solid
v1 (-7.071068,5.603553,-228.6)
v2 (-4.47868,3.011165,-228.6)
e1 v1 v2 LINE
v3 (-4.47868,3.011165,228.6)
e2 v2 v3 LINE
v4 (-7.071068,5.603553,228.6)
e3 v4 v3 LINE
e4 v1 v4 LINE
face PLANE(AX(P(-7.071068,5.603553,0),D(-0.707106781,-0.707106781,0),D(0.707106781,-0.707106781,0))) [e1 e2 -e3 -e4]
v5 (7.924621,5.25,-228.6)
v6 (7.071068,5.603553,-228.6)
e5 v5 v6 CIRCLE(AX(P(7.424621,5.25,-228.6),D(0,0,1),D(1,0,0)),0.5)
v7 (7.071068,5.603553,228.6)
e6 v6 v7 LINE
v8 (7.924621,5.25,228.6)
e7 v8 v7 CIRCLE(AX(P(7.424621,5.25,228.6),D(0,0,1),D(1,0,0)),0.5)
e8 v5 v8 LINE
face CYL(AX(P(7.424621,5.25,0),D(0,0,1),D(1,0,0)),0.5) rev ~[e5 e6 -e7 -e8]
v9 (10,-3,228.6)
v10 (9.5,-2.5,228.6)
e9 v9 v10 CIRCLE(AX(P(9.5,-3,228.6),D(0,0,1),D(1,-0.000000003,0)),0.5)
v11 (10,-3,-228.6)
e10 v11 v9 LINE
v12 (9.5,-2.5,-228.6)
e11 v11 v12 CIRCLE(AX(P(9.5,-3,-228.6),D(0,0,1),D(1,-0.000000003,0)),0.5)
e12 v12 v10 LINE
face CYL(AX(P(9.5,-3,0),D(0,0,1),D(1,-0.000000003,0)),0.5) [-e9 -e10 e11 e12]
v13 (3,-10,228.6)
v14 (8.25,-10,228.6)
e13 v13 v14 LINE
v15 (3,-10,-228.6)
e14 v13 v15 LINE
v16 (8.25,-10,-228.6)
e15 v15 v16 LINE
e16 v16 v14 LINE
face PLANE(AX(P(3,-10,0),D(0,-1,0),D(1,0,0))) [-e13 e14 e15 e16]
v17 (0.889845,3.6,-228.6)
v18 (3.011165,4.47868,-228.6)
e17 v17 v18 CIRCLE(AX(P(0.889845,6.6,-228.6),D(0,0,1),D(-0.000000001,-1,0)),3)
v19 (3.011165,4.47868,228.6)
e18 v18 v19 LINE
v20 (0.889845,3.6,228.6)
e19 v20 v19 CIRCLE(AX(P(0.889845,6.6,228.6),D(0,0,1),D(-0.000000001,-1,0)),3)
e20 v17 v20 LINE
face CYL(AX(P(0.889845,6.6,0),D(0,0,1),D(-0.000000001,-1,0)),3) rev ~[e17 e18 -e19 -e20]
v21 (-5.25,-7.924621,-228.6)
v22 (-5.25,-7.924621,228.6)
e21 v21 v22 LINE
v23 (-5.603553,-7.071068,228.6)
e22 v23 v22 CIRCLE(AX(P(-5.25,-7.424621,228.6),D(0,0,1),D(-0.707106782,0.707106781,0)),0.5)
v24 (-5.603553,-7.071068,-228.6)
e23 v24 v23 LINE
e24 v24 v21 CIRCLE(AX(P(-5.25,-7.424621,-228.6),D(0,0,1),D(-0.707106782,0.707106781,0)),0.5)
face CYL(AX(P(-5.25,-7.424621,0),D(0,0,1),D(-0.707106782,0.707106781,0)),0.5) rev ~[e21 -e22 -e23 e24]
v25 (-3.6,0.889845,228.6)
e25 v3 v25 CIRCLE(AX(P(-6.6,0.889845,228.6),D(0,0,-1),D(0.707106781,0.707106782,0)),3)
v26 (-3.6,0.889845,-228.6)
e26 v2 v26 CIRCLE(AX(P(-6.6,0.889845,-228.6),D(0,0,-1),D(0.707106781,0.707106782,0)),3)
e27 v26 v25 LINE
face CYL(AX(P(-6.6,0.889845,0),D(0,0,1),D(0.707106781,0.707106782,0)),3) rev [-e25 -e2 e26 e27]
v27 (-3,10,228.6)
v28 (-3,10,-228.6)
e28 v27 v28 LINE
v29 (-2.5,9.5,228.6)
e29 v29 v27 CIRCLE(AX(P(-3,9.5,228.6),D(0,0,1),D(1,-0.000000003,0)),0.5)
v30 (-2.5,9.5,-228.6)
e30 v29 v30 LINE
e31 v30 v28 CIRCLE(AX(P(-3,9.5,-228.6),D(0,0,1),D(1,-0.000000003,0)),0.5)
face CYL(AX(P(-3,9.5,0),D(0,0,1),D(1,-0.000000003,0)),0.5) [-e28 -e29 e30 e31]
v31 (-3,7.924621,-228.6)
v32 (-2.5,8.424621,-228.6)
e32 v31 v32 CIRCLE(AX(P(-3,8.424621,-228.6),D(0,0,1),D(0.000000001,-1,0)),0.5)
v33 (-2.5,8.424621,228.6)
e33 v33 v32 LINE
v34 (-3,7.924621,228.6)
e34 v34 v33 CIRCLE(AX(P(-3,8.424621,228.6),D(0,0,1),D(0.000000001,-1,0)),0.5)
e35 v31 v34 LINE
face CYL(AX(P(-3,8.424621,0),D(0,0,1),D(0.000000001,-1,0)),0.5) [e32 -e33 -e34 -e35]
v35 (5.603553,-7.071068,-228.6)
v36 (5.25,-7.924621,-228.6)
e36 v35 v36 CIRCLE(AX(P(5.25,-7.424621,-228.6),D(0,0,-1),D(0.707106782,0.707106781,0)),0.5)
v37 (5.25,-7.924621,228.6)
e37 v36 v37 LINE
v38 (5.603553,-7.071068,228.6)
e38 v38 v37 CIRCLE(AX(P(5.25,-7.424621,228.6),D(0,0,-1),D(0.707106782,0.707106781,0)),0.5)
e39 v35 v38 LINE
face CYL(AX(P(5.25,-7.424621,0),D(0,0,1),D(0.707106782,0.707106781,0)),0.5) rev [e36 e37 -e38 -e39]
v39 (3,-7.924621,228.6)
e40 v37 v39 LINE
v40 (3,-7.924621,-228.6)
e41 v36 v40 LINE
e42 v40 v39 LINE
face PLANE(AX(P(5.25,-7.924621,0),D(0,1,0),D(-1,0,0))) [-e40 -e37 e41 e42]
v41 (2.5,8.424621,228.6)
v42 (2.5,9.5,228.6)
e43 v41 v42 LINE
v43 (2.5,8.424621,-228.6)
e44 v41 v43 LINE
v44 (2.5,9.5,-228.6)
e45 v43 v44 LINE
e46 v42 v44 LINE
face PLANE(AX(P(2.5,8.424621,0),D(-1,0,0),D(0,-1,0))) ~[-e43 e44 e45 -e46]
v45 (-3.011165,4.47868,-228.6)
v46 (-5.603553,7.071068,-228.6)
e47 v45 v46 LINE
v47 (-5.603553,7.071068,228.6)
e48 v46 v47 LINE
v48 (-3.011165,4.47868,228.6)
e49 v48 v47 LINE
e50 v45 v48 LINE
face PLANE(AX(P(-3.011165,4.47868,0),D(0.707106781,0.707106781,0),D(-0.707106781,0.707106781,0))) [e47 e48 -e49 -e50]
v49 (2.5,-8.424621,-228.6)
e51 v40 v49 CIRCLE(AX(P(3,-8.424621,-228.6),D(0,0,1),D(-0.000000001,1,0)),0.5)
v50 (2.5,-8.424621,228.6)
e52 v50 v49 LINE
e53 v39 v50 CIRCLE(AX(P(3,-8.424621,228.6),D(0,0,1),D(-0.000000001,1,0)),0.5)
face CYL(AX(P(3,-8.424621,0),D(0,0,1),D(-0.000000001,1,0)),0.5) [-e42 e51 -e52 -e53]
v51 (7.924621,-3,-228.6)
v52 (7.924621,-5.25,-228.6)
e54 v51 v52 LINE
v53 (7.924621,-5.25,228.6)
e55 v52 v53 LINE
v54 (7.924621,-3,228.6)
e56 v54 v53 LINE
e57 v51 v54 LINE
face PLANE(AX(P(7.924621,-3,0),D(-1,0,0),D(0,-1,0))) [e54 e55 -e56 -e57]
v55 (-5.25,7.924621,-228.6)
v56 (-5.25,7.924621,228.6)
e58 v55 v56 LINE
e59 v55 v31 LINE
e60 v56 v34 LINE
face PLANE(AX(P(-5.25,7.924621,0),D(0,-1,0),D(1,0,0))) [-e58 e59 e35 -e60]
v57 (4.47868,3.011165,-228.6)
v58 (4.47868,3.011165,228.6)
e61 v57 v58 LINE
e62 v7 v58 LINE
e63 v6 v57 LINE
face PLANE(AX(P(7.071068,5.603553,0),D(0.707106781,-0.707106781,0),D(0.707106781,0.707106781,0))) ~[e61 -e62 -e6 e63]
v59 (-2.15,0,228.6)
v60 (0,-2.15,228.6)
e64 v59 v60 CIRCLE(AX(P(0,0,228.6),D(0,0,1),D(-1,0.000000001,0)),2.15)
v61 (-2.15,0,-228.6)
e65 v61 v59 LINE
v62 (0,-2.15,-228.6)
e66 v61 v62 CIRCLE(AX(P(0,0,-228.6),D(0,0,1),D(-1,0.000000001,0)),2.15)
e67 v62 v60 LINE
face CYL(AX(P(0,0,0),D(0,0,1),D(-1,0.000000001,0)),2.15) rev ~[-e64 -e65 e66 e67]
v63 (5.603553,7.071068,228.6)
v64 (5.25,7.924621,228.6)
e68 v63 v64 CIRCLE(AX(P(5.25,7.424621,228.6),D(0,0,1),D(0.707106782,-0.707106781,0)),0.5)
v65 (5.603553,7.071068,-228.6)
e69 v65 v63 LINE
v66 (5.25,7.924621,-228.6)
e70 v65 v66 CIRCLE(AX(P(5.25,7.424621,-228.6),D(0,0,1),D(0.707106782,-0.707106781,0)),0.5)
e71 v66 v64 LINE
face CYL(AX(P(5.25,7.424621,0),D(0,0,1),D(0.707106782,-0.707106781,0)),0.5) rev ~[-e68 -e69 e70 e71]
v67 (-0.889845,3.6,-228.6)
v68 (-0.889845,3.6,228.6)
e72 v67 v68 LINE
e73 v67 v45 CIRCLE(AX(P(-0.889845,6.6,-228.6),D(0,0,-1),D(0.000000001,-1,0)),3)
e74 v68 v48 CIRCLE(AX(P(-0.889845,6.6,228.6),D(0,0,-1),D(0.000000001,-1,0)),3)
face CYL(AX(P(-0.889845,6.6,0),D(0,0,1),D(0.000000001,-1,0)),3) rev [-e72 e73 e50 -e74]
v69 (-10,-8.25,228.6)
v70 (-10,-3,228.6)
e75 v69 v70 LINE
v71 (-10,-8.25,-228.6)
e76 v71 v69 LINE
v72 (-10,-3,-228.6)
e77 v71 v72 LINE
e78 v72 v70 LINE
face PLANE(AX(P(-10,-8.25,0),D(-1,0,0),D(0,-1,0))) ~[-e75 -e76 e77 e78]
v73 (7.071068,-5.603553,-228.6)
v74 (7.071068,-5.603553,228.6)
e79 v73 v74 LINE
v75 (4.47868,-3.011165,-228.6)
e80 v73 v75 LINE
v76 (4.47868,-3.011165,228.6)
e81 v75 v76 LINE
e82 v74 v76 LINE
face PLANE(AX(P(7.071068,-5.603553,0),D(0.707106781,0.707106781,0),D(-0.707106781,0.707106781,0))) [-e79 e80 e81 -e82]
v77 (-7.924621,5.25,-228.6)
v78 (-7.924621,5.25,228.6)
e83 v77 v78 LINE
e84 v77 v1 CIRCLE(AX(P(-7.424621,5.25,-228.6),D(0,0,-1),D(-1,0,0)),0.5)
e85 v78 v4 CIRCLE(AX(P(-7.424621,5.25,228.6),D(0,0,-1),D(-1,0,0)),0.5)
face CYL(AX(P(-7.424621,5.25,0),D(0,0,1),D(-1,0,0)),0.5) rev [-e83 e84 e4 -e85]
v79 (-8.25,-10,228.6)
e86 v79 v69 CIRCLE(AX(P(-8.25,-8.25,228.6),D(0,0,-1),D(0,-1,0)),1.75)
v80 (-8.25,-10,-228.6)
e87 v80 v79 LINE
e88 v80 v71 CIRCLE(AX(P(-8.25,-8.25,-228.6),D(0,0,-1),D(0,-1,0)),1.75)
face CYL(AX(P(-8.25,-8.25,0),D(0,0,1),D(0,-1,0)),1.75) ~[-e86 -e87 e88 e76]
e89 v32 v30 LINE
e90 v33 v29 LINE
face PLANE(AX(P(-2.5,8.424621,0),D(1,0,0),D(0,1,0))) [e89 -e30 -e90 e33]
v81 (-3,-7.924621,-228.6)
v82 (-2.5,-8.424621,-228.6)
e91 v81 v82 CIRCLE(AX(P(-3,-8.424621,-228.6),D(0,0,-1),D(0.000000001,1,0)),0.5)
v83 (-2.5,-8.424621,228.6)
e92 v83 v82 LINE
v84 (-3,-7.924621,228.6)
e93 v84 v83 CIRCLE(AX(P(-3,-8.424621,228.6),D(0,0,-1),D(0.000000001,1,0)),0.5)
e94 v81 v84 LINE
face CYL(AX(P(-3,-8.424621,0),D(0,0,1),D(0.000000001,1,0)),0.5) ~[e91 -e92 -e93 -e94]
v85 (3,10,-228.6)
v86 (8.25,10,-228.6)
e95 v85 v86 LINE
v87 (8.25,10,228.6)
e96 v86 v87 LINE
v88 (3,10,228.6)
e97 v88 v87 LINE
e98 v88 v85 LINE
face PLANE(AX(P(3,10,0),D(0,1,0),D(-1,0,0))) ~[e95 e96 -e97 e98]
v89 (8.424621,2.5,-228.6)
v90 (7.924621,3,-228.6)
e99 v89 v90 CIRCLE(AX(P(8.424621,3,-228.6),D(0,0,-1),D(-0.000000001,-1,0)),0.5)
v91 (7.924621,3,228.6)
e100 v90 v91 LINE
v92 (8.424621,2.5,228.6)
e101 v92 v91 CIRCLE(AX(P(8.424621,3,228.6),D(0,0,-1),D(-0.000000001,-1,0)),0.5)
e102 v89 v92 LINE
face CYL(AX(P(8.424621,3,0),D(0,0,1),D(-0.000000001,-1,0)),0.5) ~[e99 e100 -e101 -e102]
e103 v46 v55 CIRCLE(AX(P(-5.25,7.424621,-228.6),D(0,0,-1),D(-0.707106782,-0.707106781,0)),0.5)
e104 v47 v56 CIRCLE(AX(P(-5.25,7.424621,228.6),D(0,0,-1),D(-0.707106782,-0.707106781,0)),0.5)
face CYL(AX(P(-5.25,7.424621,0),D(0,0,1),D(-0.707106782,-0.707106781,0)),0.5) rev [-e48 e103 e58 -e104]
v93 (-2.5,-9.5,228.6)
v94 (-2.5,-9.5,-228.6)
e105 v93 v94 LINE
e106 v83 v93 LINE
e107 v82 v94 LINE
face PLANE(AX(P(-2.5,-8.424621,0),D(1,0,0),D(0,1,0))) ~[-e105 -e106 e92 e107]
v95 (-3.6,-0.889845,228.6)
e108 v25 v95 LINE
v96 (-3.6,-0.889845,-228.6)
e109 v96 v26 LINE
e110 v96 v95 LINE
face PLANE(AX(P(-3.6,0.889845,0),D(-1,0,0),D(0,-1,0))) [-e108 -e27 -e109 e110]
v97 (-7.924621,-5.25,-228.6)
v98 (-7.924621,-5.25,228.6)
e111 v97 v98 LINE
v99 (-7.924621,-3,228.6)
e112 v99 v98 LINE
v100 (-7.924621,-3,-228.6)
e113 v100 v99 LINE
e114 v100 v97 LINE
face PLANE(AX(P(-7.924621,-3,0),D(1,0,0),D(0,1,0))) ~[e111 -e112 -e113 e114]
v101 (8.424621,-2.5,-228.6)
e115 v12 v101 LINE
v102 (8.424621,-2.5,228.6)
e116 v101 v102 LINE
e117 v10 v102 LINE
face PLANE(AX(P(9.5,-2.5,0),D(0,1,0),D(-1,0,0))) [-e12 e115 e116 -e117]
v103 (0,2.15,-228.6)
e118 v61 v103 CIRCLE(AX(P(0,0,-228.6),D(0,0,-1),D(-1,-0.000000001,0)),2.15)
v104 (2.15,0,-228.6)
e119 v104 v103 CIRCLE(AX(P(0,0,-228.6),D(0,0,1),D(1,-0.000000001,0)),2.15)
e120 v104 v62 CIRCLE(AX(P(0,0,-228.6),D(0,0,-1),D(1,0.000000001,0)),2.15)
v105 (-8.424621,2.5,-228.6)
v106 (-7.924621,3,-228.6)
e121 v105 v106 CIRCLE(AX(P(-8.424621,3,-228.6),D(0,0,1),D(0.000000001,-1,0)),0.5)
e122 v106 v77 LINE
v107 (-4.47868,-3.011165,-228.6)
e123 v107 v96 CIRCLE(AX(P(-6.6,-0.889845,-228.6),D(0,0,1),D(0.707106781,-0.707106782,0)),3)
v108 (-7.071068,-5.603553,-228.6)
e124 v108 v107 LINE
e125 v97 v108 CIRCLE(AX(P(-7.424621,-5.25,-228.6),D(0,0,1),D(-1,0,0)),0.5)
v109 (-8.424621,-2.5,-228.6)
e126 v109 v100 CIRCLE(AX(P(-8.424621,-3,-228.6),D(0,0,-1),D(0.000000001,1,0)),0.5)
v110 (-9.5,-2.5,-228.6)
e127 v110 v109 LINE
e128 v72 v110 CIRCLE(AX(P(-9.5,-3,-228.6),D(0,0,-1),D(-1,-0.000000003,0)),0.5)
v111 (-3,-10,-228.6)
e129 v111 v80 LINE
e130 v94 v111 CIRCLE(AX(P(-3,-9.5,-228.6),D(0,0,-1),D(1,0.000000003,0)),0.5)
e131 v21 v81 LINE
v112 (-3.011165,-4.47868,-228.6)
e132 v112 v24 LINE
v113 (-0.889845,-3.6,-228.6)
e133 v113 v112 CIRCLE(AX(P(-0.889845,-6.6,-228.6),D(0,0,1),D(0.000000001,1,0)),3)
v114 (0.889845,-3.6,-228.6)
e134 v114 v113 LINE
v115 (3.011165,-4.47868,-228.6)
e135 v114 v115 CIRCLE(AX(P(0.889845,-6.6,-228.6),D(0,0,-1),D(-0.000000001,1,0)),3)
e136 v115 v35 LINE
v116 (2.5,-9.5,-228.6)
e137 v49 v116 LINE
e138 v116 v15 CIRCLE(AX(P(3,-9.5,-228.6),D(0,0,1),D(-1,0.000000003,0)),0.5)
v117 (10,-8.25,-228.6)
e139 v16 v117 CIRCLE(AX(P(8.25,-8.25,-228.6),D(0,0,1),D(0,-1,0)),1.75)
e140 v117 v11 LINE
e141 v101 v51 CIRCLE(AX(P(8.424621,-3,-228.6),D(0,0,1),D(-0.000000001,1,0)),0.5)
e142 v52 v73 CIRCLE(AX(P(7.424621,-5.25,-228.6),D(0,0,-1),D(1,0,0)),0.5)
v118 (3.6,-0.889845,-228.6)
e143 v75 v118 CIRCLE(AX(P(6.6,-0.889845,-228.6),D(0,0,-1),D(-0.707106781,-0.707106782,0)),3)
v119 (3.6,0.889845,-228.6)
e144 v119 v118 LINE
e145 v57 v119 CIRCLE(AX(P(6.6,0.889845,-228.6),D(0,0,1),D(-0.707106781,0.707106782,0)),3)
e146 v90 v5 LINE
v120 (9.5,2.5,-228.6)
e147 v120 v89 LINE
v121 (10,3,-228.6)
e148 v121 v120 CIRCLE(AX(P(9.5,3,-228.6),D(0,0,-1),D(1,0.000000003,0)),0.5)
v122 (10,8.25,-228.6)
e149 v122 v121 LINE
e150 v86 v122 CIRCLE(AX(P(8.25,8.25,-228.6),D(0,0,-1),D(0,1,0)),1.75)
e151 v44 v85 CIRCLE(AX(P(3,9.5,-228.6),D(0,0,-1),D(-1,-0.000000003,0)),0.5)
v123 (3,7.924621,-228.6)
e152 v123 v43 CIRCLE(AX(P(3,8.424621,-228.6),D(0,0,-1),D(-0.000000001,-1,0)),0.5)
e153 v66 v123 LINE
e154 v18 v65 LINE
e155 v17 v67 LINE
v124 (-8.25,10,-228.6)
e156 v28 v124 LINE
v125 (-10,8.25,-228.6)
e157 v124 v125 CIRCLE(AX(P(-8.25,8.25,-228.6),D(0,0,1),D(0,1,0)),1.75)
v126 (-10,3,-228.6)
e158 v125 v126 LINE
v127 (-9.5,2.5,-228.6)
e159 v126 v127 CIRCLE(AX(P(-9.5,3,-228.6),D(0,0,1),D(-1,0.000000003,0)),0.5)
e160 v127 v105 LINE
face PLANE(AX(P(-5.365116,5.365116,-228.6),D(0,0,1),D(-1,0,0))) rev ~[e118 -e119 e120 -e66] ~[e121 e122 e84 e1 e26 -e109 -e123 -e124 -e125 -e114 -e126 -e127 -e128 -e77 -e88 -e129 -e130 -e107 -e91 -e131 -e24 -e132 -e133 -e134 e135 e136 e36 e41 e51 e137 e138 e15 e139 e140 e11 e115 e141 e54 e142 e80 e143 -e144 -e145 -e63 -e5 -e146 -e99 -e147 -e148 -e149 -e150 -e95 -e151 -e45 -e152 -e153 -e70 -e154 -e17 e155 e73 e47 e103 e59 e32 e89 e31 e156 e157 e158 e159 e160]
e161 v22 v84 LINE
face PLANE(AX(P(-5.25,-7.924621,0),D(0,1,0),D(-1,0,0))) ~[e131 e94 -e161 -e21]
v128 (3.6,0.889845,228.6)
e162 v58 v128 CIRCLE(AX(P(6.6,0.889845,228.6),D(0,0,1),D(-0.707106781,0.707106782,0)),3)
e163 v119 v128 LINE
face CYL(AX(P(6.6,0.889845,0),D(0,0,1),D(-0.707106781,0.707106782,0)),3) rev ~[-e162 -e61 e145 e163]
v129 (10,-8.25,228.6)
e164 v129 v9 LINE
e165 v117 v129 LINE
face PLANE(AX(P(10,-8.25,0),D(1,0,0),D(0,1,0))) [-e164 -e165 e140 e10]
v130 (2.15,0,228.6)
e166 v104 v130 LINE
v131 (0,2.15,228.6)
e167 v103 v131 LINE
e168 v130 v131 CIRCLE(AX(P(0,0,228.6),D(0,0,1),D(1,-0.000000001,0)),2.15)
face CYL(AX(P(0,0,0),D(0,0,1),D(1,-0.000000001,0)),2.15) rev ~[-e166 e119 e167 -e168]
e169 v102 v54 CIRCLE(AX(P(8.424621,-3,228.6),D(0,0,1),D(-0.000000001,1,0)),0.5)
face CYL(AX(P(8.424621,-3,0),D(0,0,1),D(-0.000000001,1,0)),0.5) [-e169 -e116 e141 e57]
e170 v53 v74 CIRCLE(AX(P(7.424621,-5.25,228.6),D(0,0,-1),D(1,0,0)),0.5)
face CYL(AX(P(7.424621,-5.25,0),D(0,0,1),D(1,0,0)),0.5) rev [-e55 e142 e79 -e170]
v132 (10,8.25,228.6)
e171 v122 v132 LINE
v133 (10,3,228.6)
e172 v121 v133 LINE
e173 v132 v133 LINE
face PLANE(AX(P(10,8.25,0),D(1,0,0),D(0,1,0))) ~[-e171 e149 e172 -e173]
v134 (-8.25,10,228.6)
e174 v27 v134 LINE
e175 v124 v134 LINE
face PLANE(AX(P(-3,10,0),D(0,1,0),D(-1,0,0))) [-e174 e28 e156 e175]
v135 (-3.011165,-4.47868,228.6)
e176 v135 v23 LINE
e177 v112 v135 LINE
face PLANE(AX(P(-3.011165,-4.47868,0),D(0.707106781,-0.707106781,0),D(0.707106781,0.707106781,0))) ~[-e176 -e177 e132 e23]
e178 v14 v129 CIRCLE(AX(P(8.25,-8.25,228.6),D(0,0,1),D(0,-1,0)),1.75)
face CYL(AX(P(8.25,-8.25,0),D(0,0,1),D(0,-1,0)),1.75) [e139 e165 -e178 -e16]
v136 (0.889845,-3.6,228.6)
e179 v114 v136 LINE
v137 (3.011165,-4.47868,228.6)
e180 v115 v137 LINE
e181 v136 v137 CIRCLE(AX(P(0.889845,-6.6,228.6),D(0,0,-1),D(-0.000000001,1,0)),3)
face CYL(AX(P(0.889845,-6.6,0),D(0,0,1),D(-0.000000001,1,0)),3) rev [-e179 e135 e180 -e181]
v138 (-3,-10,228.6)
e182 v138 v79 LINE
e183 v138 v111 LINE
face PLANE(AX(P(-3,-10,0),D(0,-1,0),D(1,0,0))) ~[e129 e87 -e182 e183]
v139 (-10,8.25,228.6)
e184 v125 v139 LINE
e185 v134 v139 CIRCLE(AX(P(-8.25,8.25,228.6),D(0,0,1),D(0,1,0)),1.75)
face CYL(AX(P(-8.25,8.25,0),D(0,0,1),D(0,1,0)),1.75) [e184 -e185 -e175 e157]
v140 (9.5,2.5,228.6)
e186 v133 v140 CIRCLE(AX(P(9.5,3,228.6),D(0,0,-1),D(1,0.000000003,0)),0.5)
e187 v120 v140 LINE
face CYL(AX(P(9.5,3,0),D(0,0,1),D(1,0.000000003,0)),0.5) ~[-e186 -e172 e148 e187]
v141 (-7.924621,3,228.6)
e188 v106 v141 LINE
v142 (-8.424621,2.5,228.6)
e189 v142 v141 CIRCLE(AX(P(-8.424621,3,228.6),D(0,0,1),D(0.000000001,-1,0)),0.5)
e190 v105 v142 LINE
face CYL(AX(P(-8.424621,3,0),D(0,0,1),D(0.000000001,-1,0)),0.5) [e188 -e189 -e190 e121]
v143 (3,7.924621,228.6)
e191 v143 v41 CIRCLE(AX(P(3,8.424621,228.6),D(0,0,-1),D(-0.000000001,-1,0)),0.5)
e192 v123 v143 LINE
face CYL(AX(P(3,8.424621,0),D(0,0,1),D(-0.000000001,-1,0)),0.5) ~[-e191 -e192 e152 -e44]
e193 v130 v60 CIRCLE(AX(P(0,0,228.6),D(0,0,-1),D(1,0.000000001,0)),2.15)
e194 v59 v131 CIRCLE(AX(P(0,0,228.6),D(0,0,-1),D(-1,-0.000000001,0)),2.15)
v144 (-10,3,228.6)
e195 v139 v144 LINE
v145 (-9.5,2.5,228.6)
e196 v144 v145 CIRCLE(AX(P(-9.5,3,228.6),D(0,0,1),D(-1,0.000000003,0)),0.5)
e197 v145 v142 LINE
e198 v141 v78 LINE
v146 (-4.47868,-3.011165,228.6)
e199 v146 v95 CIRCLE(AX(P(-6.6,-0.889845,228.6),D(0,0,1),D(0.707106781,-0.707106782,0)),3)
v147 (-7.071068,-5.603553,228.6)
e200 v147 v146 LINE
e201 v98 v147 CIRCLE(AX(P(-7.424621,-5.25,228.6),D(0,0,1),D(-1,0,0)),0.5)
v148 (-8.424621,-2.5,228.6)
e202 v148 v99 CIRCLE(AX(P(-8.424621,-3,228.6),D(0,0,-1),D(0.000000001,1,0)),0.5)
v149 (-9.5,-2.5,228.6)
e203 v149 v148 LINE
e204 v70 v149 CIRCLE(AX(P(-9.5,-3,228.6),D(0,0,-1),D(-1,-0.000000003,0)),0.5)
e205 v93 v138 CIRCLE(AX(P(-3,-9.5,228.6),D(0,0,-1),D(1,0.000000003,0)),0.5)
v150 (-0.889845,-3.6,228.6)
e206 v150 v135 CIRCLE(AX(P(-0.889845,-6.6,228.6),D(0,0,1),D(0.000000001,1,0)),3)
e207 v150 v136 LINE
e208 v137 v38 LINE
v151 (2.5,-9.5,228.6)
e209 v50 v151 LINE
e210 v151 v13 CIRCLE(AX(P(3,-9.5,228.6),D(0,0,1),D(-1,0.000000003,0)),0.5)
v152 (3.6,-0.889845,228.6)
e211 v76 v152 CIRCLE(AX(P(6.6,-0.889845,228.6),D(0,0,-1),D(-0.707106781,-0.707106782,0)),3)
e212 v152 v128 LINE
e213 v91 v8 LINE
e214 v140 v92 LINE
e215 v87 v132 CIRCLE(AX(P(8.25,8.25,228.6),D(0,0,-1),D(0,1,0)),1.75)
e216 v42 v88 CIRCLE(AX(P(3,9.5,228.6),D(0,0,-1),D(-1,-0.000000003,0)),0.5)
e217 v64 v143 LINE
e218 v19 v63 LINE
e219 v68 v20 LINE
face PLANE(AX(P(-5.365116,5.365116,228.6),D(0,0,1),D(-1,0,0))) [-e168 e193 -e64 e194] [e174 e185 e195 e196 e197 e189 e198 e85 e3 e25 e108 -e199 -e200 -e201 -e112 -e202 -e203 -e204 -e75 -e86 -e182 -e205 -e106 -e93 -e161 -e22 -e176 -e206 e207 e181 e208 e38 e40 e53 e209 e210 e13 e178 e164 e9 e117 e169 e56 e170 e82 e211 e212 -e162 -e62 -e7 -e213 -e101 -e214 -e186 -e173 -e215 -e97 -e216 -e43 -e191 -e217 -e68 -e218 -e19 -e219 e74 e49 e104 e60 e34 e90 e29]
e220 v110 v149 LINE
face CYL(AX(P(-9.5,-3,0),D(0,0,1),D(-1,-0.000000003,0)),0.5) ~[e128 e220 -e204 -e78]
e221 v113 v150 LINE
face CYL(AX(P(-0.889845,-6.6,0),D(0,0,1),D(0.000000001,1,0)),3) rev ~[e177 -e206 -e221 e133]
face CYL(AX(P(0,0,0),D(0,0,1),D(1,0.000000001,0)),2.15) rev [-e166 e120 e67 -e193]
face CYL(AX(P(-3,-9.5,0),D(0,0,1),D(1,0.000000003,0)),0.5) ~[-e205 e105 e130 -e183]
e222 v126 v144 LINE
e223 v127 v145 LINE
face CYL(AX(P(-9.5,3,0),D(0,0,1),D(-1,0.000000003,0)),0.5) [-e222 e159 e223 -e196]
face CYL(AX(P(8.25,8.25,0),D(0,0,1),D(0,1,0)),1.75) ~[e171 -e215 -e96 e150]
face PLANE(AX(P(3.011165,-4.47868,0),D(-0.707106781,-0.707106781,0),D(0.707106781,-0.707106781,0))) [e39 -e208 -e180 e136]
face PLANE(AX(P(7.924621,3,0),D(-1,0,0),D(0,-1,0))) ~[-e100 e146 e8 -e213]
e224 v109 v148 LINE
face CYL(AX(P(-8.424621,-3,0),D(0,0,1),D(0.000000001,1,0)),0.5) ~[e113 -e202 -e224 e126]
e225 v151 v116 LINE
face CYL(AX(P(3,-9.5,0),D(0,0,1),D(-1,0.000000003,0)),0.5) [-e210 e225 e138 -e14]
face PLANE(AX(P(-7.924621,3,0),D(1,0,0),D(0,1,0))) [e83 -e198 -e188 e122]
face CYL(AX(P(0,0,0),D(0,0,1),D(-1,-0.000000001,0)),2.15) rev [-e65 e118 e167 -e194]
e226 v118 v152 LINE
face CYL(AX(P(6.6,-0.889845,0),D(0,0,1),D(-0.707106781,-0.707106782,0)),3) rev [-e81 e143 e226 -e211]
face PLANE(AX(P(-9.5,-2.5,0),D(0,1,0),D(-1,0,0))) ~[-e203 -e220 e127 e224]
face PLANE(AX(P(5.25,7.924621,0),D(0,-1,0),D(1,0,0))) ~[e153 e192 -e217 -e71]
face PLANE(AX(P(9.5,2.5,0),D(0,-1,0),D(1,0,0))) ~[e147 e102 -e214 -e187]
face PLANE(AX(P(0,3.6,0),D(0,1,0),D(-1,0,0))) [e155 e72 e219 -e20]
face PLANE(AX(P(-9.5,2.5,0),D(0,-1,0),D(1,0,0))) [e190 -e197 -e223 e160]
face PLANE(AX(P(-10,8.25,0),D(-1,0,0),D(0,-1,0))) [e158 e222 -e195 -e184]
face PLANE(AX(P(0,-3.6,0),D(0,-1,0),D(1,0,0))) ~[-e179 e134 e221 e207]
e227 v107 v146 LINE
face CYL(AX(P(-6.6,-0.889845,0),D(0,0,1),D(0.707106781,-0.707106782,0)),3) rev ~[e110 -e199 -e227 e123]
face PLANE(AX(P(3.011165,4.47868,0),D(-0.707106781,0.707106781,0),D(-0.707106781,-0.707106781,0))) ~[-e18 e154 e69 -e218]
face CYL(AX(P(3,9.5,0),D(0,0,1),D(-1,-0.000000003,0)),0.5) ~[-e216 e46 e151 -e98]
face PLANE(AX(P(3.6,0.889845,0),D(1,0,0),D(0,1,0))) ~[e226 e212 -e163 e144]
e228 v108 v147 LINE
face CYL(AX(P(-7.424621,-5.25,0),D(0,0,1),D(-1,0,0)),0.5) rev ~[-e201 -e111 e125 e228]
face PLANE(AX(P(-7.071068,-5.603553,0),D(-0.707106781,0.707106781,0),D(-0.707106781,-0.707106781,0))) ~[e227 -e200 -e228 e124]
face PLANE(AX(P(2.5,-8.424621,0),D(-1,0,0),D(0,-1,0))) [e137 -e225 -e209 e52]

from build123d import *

# Parameters (mm, degrees)
BOSS_EXTRUDE1_DEPTH = 228.6


with BuildPart() as part:
    # Sketch4 → Boss-Extrude1 (new, symmetric)
    with BuildSketch(Plane.XY):
        with BuildLine():
            Line((3, -10), (8.25, -10))
            ThreePointArc((8.25, -10), (9.487436867, -9.487436867), (10, -8.25))
            Line((10, -8.25), (10, -3))
            ThreePointArc((10, -3), (9.853553391, -2.646446609), (9.5, -2.5))
            Line((9.5, -2.5), (8.424621202, -2.5))
            ThreePointArc((8.424621202, -2.5), (8.071067812, -2.646446609), (7.924621202, -3))
            Line((7.924621202, -3), (7.924621202, -5.25))
            ThreePointArc((7.924621202, -5.25), (7.615962919, -5.711939766), (7.071067812, -5.603553391))
            Line((7.071067812, -5.603553391), (4.478679656, -3.011165235))
            ThreePointArc((4.478679656, -3.011165235), (3.828361402, -2.037895189), (3.6, -0.889844892))
            Line((3.6, -0.889844892), (3.6, 0))
            Line((3.6, 0), (2.15, 0))
            ThreePointArc((2.15, 0), (1.52027958, -1.52027958), (0, -2.15))
            Line((0, -2.15), (0, -3.6))
            Line((0, -3.6), (0.889844892, -3.6))
            ThreePointArc((0.889844892, -3.6), (2.037895189, -3.828361402), (3.011165235, -4.478679656))
            Line((3.011165235, -4.478679656), (5.603553391, -7.071067812))
            ThreePointArc((5.603553391, -7.071067812), (5.711939766, -7.615962919), (5.25, -7.924621202))
            Line((5.25, -7.924621202), (3, -7.924621202))
            ThreePointArc((3, -7.924621202), (2.646446609, -8.071067812), (2.5, -8.424621202))
            Line((2.5, -8.424621202), (2.5, -9.5))
            ThreePointArc((2.5, -9.5), (2.646446609, -9.853553391), (3, -10))
        make_face()
    extrude(amount=BOSS_EXTRUDE1_DEPTH, both=True)

    # Mirror1: part across plane


with BuildPart() as part_1:
    add(part.part)
    add(part.part.mirror(Plane(origin=(0, 0, 0), x_dir=(0, 0, 1), z_dir=(1, 0, 0))))

    # Mirror2: part across plane


with BuildPart() as part_2:
    add(part_1.part)
    add(part_1.part.mirror(Plane.ZX))


solid = part_2.part
